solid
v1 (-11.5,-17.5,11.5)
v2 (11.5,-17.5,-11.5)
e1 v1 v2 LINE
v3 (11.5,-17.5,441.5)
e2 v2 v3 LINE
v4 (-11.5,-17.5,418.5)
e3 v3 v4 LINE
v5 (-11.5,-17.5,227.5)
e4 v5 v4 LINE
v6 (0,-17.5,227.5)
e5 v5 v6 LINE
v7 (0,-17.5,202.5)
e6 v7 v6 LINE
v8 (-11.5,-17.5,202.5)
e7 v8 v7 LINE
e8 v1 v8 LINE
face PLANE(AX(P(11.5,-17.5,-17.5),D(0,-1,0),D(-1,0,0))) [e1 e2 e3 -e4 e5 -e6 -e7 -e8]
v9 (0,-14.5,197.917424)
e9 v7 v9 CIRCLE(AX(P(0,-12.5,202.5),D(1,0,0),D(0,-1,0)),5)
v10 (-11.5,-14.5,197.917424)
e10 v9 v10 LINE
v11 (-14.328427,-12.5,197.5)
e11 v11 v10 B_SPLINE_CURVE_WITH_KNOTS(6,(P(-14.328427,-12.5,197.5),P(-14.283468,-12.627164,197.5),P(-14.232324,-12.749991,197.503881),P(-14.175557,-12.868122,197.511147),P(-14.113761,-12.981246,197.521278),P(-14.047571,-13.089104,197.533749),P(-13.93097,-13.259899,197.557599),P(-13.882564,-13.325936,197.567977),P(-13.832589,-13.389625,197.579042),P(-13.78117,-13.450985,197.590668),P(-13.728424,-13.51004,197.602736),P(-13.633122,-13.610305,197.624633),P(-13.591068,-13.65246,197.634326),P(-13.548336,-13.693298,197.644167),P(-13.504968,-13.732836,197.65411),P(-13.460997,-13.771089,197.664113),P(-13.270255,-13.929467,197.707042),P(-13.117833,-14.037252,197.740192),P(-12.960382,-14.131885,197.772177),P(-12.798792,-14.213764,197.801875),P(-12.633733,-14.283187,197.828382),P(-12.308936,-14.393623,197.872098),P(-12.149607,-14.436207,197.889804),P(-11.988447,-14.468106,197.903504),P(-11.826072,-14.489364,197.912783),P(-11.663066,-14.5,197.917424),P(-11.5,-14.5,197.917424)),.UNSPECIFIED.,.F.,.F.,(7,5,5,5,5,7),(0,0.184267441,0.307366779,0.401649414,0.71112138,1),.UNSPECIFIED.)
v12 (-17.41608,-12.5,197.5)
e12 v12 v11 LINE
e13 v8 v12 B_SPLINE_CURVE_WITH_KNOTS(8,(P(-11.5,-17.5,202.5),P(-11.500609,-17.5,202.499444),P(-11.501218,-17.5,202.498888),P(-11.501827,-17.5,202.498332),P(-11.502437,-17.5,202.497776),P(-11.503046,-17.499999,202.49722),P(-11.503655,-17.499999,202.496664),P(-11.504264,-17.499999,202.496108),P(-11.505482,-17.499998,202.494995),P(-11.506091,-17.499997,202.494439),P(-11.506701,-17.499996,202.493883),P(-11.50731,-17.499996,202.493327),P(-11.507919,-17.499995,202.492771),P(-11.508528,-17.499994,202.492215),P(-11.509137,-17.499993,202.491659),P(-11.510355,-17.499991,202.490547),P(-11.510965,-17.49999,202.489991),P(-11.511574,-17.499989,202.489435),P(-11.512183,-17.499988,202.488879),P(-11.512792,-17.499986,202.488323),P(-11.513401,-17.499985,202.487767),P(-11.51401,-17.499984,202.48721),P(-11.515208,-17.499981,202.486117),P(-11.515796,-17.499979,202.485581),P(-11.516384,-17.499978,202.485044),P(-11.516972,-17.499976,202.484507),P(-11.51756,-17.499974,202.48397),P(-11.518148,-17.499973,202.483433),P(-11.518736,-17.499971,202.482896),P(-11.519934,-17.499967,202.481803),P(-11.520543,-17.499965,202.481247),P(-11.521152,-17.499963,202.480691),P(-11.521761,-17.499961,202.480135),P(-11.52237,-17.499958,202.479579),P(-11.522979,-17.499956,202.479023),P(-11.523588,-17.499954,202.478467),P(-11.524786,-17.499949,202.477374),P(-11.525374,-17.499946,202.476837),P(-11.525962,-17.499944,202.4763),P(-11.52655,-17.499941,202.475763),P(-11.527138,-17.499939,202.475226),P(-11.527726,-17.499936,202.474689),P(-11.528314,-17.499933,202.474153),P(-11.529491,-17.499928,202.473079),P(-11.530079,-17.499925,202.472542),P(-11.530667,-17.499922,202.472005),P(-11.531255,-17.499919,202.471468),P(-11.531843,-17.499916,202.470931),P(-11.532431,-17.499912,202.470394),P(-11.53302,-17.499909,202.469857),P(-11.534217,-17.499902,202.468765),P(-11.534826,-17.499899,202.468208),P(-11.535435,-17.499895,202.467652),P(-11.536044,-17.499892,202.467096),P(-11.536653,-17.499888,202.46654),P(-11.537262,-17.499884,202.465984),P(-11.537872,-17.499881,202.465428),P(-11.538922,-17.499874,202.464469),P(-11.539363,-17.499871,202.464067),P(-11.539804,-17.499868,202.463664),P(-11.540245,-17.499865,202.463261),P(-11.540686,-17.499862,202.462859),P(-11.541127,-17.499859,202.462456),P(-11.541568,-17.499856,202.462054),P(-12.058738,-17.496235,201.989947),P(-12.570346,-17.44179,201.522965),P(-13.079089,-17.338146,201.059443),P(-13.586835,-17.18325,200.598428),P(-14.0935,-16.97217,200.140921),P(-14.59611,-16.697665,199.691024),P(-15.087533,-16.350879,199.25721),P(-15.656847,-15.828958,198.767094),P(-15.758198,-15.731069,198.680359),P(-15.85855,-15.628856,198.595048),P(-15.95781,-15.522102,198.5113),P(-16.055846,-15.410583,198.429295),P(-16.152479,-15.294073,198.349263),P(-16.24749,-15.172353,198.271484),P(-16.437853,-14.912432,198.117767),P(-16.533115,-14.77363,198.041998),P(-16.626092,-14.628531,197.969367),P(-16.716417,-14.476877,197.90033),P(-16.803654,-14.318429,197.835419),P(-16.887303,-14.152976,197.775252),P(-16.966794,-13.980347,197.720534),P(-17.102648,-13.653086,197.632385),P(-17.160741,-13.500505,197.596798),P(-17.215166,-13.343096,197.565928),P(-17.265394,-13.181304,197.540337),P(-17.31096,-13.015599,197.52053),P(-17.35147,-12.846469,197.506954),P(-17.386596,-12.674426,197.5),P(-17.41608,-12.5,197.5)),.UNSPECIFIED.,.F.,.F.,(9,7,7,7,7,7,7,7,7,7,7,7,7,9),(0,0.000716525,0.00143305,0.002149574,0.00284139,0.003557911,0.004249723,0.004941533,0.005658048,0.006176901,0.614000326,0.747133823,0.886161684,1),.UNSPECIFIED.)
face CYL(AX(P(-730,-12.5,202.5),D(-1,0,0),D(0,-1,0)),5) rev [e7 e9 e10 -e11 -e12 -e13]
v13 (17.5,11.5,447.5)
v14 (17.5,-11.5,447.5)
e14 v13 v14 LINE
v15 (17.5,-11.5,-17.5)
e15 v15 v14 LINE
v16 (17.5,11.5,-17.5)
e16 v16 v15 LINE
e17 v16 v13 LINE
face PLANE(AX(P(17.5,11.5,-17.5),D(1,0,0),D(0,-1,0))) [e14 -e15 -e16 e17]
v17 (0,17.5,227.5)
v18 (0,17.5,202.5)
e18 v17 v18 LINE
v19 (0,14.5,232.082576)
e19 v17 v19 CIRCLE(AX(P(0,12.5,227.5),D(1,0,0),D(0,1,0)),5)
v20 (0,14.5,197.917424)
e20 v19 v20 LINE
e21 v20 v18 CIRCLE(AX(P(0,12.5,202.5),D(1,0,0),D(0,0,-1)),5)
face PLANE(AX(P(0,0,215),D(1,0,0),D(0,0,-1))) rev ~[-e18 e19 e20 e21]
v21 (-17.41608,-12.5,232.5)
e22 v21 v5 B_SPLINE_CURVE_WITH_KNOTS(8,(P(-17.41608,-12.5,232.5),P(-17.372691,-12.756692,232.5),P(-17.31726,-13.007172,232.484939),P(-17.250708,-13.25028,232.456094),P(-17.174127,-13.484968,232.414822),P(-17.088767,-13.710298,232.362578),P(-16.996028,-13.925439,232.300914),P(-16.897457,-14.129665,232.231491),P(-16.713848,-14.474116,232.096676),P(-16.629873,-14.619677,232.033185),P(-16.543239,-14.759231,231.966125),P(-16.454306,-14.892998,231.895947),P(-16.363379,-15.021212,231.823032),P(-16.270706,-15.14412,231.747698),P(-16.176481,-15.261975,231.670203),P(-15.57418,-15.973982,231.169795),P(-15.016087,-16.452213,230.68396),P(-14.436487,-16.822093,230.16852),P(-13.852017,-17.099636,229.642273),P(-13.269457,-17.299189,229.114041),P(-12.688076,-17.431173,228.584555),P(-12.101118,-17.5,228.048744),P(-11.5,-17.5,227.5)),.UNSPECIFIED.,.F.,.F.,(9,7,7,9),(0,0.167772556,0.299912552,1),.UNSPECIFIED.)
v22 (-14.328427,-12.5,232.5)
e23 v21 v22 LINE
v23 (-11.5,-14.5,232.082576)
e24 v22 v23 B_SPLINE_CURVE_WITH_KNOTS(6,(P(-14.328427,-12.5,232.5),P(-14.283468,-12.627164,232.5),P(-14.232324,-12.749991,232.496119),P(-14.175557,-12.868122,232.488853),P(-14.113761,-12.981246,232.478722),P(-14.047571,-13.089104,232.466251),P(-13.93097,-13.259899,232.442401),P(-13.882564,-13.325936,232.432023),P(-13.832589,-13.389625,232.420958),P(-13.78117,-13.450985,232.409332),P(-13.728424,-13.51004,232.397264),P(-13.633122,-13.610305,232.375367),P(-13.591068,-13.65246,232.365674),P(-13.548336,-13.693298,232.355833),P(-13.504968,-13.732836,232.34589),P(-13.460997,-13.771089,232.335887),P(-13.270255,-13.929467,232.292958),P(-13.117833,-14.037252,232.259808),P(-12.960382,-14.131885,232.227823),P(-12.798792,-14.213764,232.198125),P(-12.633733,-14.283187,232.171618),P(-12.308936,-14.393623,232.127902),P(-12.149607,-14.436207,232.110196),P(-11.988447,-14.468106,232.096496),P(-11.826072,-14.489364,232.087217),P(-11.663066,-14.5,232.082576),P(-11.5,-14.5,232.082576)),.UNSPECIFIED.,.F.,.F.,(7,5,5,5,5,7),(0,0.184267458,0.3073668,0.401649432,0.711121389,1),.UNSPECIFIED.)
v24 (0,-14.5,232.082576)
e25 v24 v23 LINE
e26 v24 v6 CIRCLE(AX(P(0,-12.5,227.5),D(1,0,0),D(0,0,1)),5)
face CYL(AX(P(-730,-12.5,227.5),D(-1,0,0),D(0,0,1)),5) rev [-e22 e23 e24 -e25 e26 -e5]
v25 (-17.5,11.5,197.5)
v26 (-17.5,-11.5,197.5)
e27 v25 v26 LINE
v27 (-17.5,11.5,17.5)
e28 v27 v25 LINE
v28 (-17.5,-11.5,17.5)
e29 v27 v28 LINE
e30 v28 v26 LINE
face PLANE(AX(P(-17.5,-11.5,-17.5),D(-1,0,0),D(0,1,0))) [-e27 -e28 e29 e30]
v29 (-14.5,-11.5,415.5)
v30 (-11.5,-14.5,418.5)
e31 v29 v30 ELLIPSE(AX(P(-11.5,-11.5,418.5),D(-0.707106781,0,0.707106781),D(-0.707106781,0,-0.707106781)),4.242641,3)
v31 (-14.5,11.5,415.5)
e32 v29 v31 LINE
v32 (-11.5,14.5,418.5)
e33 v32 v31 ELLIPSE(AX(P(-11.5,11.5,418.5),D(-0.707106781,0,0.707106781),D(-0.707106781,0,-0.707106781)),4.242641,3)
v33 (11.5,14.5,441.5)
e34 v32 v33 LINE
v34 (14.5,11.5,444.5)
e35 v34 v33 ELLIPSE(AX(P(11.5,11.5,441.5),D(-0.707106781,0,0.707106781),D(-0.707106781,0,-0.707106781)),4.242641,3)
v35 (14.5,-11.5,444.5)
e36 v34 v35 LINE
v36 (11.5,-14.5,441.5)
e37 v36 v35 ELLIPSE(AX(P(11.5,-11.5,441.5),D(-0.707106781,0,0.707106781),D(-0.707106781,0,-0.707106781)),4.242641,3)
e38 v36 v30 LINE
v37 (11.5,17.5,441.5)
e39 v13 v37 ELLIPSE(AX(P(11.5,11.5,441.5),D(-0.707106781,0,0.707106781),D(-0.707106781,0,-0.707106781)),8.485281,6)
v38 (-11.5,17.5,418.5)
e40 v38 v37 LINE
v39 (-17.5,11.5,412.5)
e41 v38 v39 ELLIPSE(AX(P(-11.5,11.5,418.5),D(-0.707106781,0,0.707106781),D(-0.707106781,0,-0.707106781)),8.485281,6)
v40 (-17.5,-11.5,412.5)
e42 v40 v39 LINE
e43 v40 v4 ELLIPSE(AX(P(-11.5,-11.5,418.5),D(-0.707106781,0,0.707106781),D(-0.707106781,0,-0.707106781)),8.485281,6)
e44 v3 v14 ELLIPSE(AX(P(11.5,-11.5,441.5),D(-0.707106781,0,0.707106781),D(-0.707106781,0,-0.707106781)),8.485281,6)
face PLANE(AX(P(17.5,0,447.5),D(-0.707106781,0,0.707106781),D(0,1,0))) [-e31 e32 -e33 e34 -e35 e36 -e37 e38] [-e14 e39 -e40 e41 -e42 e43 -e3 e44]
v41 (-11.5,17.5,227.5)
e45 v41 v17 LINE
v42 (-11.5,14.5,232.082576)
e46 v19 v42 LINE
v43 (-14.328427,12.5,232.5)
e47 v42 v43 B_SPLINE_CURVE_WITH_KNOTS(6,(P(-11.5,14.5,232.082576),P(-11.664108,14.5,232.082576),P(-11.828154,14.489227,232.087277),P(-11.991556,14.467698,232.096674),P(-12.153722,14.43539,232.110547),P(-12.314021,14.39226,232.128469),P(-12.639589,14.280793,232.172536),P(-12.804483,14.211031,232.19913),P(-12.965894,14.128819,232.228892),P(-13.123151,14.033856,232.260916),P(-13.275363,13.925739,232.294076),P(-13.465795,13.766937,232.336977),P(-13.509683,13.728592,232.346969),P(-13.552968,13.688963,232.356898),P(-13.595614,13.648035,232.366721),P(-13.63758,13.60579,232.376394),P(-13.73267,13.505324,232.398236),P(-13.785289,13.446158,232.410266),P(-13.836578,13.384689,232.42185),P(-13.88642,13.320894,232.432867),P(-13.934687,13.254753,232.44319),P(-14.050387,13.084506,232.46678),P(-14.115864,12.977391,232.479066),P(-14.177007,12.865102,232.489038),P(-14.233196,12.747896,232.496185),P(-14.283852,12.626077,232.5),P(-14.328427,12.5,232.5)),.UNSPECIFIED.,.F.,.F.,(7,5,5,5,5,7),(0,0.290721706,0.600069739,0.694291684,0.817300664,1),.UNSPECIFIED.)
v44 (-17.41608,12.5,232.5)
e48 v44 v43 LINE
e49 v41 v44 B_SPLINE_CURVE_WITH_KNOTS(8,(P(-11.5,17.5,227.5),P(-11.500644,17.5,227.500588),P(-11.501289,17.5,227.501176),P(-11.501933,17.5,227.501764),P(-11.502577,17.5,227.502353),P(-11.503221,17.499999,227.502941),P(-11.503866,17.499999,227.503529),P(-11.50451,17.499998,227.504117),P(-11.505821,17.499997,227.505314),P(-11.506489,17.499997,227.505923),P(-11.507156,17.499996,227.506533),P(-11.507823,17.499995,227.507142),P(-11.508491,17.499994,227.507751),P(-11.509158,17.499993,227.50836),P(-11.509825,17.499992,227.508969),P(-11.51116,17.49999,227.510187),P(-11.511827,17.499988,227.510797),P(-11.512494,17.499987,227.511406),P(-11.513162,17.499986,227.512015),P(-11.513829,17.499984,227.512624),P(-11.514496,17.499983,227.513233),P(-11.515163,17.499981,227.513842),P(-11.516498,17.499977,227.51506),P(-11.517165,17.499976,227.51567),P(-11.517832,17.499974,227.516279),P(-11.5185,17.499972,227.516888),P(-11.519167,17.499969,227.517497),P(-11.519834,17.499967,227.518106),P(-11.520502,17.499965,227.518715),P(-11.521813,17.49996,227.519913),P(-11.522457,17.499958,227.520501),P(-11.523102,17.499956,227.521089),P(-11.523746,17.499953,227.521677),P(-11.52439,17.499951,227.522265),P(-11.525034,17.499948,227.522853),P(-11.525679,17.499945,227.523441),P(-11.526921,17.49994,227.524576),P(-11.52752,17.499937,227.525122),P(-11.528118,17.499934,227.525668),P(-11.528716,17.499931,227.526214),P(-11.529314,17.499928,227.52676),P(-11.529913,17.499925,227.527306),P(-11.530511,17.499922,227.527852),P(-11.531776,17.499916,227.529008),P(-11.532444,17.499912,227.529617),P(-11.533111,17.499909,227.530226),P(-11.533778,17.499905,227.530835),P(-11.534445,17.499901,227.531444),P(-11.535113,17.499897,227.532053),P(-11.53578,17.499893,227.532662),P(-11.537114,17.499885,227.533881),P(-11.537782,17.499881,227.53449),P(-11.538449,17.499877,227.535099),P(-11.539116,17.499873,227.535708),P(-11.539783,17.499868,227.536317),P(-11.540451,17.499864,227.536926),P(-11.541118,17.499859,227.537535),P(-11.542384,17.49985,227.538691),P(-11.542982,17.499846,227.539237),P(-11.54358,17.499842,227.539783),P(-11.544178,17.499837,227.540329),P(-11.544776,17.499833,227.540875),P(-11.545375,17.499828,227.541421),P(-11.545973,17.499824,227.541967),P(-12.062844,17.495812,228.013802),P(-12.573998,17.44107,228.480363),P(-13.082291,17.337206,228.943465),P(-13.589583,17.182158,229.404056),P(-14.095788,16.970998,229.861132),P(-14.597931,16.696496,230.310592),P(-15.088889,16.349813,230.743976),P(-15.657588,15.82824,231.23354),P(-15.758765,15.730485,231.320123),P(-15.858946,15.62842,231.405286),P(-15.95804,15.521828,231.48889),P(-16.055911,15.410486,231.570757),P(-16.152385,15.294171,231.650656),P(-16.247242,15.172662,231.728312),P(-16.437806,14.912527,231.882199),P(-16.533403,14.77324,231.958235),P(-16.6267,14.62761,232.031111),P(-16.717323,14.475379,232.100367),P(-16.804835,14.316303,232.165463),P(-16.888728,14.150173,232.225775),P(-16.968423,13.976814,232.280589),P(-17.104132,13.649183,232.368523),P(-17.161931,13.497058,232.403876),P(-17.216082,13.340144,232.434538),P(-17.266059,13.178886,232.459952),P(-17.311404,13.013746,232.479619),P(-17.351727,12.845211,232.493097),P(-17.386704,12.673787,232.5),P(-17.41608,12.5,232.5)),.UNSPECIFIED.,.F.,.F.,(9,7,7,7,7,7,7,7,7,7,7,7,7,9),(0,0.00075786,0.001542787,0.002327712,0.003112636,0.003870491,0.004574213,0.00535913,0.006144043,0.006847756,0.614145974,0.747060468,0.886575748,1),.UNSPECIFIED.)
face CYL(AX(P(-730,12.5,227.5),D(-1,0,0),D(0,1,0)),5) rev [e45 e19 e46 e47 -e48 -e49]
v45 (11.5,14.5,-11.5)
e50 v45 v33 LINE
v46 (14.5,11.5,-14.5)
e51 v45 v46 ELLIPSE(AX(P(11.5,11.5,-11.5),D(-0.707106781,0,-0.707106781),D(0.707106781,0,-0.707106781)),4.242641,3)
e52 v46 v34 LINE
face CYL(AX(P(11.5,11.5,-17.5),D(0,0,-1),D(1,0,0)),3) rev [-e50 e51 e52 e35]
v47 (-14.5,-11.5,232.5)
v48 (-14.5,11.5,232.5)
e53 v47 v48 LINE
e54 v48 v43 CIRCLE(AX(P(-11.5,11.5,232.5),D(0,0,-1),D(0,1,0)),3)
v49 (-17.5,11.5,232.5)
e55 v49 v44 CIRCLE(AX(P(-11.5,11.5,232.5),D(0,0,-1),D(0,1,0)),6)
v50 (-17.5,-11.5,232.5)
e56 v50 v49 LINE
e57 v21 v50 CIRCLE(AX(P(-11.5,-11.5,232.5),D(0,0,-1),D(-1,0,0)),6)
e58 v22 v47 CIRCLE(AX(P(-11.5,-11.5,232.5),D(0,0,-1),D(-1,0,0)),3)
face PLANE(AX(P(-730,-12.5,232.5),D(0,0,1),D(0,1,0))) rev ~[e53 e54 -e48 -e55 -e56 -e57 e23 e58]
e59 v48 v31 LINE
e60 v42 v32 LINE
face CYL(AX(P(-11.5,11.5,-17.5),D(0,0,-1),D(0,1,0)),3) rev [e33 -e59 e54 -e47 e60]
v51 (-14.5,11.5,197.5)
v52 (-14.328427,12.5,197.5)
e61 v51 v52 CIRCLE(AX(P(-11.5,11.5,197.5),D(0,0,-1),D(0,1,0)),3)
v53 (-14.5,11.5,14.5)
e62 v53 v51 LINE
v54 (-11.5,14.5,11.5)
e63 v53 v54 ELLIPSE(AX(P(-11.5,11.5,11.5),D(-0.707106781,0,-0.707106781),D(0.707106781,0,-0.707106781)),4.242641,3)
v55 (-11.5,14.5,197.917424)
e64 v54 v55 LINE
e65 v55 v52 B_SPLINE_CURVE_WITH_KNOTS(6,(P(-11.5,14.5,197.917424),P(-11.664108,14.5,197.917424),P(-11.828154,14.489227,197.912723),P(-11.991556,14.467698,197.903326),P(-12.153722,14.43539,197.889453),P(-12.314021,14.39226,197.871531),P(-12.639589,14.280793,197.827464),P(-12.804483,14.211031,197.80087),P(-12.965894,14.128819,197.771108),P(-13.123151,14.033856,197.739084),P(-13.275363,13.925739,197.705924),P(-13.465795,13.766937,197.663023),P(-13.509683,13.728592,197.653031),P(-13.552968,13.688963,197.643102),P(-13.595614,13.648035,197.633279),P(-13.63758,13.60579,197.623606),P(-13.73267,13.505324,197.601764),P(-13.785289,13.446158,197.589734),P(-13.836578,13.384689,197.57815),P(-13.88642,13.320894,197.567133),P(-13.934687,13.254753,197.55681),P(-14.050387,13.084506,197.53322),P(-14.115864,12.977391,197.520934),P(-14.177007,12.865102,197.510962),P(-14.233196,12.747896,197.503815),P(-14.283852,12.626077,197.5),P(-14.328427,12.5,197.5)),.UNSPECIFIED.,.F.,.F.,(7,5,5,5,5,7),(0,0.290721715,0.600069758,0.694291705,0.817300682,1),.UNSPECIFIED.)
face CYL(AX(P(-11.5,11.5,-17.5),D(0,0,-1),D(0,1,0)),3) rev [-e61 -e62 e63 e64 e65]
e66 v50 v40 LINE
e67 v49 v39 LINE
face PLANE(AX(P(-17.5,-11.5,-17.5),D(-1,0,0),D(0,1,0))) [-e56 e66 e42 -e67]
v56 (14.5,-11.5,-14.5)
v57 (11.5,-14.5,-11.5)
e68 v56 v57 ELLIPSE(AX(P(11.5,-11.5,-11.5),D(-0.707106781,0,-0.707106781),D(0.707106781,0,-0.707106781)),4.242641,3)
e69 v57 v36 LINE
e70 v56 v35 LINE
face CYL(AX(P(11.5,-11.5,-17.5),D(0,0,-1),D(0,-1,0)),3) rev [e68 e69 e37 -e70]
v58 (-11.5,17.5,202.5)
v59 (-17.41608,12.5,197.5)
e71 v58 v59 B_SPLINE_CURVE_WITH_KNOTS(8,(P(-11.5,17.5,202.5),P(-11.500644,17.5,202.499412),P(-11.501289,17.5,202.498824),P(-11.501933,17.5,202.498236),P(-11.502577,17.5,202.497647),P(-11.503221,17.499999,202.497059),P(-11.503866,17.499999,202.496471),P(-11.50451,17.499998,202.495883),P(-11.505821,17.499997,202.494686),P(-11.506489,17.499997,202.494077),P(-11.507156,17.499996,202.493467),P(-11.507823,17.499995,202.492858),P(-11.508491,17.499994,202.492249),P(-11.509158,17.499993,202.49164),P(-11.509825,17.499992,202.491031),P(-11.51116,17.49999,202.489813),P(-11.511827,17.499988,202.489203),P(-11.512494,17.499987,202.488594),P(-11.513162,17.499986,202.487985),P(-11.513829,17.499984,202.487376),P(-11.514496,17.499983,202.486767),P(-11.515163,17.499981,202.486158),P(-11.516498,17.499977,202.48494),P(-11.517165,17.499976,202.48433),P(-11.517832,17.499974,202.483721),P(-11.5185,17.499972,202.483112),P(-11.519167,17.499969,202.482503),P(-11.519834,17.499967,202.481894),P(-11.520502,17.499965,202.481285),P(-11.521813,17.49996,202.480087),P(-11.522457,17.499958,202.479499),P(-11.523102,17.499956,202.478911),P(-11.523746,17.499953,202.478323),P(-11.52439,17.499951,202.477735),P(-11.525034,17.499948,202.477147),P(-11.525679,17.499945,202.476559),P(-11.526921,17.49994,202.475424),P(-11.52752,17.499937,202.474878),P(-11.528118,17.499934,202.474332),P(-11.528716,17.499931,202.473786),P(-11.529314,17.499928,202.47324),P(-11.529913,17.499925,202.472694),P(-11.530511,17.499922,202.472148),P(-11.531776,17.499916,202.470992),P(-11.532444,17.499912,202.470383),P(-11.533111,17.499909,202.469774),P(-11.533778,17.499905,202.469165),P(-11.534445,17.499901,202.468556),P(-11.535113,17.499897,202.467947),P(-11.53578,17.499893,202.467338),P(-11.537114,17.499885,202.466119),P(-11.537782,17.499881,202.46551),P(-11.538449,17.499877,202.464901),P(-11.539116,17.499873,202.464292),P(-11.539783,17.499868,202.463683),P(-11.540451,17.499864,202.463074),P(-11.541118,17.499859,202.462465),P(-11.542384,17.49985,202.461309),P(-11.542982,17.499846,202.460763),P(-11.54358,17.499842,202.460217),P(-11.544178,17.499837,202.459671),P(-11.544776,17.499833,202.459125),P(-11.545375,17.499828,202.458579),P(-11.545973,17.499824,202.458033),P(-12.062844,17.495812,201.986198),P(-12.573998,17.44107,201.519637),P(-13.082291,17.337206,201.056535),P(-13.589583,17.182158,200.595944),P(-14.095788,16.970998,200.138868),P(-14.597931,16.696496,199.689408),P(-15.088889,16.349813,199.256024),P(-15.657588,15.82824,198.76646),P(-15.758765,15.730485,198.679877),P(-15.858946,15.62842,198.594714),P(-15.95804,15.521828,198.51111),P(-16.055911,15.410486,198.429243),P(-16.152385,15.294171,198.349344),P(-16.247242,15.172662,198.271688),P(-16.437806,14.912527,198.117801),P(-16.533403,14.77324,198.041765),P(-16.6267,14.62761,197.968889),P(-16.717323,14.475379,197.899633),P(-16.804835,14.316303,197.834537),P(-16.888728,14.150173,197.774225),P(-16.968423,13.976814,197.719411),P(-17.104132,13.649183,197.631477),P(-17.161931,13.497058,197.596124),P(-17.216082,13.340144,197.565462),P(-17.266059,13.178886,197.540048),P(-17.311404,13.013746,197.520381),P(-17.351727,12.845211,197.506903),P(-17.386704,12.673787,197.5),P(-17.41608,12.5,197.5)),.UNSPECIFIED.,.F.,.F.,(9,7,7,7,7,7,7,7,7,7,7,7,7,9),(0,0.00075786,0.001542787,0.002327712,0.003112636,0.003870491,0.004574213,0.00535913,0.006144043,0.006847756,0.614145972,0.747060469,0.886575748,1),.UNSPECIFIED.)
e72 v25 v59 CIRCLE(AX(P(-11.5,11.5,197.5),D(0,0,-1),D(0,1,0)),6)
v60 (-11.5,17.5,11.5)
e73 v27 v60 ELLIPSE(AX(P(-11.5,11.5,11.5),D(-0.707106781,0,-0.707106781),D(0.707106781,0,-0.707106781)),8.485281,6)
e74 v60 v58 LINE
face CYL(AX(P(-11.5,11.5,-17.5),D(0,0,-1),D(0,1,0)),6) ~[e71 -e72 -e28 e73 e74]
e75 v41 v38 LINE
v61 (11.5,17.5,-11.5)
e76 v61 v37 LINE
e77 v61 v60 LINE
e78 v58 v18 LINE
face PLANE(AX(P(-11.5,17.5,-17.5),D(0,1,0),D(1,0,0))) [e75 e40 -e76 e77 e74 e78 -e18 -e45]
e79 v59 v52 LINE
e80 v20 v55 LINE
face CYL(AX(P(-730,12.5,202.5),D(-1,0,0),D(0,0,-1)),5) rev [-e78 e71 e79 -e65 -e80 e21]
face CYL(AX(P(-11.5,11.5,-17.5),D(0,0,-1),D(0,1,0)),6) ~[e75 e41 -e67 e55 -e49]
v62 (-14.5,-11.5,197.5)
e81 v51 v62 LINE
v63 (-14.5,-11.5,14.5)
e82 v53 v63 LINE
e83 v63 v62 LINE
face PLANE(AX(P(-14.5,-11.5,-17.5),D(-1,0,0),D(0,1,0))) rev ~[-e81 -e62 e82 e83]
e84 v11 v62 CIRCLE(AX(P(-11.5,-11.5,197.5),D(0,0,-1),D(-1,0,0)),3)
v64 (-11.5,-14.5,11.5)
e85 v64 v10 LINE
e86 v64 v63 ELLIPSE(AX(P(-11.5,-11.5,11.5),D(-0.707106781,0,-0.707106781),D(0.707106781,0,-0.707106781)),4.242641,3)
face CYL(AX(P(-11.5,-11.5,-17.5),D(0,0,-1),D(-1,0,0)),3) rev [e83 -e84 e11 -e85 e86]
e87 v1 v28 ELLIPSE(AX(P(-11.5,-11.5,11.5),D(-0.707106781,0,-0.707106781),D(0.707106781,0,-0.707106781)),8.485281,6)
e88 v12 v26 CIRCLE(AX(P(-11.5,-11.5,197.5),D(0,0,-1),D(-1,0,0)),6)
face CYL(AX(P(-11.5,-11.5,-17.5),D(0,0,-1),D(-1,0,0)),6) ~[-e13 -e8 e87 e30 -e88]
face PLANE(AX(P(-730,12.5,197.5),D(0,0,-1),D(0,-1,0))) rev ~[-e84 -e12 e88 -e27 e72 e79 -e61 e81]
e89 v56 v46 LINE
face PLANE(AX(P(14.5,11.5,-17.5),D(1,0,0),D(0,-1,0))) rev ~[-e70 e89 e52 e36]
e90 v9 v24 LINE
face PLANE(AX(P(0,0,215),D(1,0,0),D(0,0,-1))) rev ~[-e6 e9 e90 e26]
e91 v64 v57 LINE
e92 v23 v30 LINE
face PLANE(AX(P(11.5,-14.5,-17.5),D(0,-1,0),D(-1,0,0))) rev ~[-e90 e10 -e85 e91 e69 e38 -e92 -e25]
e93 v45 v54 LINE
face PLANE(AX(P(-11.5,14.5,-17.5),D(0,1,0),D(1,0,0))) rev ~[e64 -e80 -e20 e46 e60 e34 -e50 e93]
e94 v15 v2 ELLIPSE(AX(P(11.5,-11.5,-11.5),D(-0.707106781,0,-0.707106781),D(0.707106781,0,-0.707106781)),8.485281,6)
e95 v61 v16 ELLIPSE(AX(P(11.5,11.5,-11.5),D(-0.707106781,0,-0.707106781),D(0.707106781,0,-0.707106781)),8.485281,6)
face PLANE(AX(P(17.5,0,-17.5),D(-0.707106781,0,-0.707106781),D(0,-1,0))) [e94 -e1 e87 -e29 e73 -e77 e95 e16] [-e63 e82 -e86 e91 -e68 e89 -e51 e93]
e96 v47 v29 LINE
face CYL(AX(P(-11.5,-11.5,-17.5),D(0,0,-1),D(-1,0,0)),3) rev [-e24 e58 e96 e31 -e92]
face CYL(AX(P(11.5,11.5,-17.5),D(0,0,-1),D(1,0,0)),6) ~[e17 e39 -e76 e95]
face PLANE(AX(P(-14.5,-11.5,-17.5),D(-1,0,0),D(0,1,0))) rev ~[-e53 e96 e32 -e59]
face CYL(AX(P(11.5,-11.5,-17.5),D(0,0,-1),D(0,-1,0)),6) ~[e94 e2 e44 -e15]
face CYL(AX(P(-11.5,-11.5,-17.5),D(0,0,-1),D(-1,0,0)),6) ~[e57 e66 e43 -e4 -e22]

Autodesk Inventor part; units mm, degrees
ref_plane "Start plane" through (0, 0, -17.5) normal (0, 0, 1) x (1, 0, 0)
ref_plane "End plane" through (0, 0, 447.5) normal (0, 0, 1) x (1, 0, 0)
sketch "Sketch" plane through (0, 0, 0) normal (0, 0, 1) x (1, 0, 0)
  line L0 (-17.5, -11.5) -> (-17.5, 11.5)
  line L1 (-11.5, 17.5) -> (11.5, 17.5)
  line L2 (17.5, 11.5) -> (17.5, -11.5)
  line L3 (11.5, -17.5) -> (-11.5, -17.5)
  arc A0 (-17.5, -11.5) -> (-11.5, -17.5) centre (-11.5, -11.5) ccw
  arc A1 (-11.5, 17.5) -> (-17.5, 11.5) centre (-11.5, 11.5) ccw
  arc A2 (17.5, 11.5) -> (11.5, 17.5) centre (11.5, 11.5) ccw
  arc A3 (11.5, -17.5) -> (17.5, -11.5) centre (11.5, -11.5) ccw
  arc A4 (-11.5, 14.5) -> (-14.5, 11.5) centre (-11.5, 11.5) ccw
  line L4 (-11.5, 14.5) -> (11.5, 14.5)
  arc A5 (14.5, 11.5) -> (11.5, 14.5) centre (11.5, 11.5) ccw
  line L5 (14.5, 11.5) -> (14.5, -11.5)
  arc A6 (11.5, -14.5) -> (14.5, -11.5) centre (11.5, -11.5) ccw
  line L6 (11.5, -14.5) -> (-11.5, -14.5)
  arc A7 (-14.5, -11.5) -> (-11.5, -14.5) centre (-11.5, -11.5) ccw
  line L7 (-14.5, -11.5) -> (-14.5, 11.5)
  line L8 (0, 25.4278) -> (0, -25.4278) construction
  line L9 (-25.4278, 0) -> (25.4278, 0) construction
  dimension "d7" = 6
  dimension "d10" = 35
  dimension "d11" = 35
  dimension "d12" = 3
  dimension "d15" = 17.5
  dimension "d16" = 17.5
extrude "Body" add sketch "Sketch" along normal up to surface (465 mm away) from surface at -17.5
sketch "Sketch3" plane through (0, 0, 0) normal (0, 0, 1) x (1, 0, 0)
  line L0 (0, 0) -> (10, 0)
ref_plane "Work Plane3" through (0, 0, 0) normal (0, -1, 0) x (1, 0, 0)
sketch "Sketch4" plane through (0, 0, 0) normal (0, -1, 0) x (1, 0, 0)
  line L0 (-2, -17.5) -> (12, -17.5)
  line L1 (-2, 447.5) -> (12, 447.5)
  dimension "d18" = 465
ref_plane "Work Plane4" through (17.5, 0, 447.5) normal (-0.7071, 0, 0.7071) x (0.7071, 0, 0.7071)
split "Split1" plane through (17.5, 0, 447.5) removes the side toward (-0.7071, 0, 0.7071)
ref_plane "Work Plane5" through (17.5, 0, -17.5) normal (-0.7071, 0, -0.7071) x (-0.7071, 0, 0.7071)
split "Split2" plane through (17.5, 0, -17.5) removes the side toward (-0.7071, 0, -0.7071)
ref_plane "Work Plane6" through (-730, 0, 215) normal (1, 0, 0) x (0, 0, -1)
ref_plane "Work Plane7" through (0, 0, 215) normal (1, 0, 0) x (0, 0, -1)
ref_plane "Work Plane8" through (-365, 0, 215) normal (1, 0, 0) x (0, 0, -1)
sketch "Sketch5" plane through (-365, 0, 215) normal (1, 0, 0) x (0, 0, -1)
  arc A0 (-17.5, -12.5) -> (-12.5, -17.5) centre (-12.5, -12.5) ccw
  line L0 (-17.5, -12.5) -> (-17.5, 12.5)
  arc A1 (-12.5, 17.5) -> (-17.5, 12.5) centre (-12.5, 12.5) ccw
  line L1 (-12.5, 17.5) -> (12.5, 17.5)
  arc A2 (17.5, 12.5) -> (12.5, 17.5) centre (12.5, 12.5) ccw
  line L2 (17.5, 12.5) -> (17.5, -12.5)
  arc A3 (12.5, -17.5) -> (17.5, -12.5) centre (12.5, -12.5) ccw
  line L3 (12.5, -17.5) -> (-12.5, -17.5)
  arc A4 (-12.5, 15) -> (-15, 12.5) centre (-12.5, 12.5) ccw
  line L4 (-12.5, 15) -> (12.5, 15)
  arc A5 (15, 12.5) -> (12.5, 15) centre (12.5, 12.5) ccw
  line L5 (15, 12.5) -> (15, -12.5)
  arc A6 (12.5, -15) -> (15, -12.5) centre (12.5, -12.5) ccw
  line L6 (12.5, -15) -> (-12.5, -15)
  arc A7 (-15, -12.5) -> (-12.5, -15) centre (-12.5, -12.5) ccw
  line L7 (-15, -12.5) -> (-15, 12.5)
extrude "Extrusion2" cut sketch "Sketch5" along normal up to surface (730 mm away) from surface at -365 contours L0 A1 L1 A2 L2 A3 L3 A0 | L4 A5 L5 A6 L6 A7 L7 A4
equation "\"d7\" = G_IR"
equation "\"d10\" = G_H"
equation "\"d11\" = G_W"
equation "\"d12\" = G_T"
equation "\"d15\" = 0.5 * d10"
equation "\"d16\" = 0.5 * d11"
equation "\"d3\" = G_L"
equation "\"G_W\" = 35"
equation "\"G_H\" = 35"
equation "\"G_T\" = 3"
equation "\"G_IR\" = 6"
equation "\"G_L\" = d18"
equation "\"G_OFFSET_START\" = 17.5"
equation "\"G_OFFSET_END\" = 17.5"
equation "\"d13\" = -G_OFFSET_START"
equation "\"d14\" = G_OFFSET_END + B_L"
equation "\"B_L\" = 430"
properties part number "AS 1163 - C350L0 35x35x3.0 SHS - 465" material "Steel, Mild"
